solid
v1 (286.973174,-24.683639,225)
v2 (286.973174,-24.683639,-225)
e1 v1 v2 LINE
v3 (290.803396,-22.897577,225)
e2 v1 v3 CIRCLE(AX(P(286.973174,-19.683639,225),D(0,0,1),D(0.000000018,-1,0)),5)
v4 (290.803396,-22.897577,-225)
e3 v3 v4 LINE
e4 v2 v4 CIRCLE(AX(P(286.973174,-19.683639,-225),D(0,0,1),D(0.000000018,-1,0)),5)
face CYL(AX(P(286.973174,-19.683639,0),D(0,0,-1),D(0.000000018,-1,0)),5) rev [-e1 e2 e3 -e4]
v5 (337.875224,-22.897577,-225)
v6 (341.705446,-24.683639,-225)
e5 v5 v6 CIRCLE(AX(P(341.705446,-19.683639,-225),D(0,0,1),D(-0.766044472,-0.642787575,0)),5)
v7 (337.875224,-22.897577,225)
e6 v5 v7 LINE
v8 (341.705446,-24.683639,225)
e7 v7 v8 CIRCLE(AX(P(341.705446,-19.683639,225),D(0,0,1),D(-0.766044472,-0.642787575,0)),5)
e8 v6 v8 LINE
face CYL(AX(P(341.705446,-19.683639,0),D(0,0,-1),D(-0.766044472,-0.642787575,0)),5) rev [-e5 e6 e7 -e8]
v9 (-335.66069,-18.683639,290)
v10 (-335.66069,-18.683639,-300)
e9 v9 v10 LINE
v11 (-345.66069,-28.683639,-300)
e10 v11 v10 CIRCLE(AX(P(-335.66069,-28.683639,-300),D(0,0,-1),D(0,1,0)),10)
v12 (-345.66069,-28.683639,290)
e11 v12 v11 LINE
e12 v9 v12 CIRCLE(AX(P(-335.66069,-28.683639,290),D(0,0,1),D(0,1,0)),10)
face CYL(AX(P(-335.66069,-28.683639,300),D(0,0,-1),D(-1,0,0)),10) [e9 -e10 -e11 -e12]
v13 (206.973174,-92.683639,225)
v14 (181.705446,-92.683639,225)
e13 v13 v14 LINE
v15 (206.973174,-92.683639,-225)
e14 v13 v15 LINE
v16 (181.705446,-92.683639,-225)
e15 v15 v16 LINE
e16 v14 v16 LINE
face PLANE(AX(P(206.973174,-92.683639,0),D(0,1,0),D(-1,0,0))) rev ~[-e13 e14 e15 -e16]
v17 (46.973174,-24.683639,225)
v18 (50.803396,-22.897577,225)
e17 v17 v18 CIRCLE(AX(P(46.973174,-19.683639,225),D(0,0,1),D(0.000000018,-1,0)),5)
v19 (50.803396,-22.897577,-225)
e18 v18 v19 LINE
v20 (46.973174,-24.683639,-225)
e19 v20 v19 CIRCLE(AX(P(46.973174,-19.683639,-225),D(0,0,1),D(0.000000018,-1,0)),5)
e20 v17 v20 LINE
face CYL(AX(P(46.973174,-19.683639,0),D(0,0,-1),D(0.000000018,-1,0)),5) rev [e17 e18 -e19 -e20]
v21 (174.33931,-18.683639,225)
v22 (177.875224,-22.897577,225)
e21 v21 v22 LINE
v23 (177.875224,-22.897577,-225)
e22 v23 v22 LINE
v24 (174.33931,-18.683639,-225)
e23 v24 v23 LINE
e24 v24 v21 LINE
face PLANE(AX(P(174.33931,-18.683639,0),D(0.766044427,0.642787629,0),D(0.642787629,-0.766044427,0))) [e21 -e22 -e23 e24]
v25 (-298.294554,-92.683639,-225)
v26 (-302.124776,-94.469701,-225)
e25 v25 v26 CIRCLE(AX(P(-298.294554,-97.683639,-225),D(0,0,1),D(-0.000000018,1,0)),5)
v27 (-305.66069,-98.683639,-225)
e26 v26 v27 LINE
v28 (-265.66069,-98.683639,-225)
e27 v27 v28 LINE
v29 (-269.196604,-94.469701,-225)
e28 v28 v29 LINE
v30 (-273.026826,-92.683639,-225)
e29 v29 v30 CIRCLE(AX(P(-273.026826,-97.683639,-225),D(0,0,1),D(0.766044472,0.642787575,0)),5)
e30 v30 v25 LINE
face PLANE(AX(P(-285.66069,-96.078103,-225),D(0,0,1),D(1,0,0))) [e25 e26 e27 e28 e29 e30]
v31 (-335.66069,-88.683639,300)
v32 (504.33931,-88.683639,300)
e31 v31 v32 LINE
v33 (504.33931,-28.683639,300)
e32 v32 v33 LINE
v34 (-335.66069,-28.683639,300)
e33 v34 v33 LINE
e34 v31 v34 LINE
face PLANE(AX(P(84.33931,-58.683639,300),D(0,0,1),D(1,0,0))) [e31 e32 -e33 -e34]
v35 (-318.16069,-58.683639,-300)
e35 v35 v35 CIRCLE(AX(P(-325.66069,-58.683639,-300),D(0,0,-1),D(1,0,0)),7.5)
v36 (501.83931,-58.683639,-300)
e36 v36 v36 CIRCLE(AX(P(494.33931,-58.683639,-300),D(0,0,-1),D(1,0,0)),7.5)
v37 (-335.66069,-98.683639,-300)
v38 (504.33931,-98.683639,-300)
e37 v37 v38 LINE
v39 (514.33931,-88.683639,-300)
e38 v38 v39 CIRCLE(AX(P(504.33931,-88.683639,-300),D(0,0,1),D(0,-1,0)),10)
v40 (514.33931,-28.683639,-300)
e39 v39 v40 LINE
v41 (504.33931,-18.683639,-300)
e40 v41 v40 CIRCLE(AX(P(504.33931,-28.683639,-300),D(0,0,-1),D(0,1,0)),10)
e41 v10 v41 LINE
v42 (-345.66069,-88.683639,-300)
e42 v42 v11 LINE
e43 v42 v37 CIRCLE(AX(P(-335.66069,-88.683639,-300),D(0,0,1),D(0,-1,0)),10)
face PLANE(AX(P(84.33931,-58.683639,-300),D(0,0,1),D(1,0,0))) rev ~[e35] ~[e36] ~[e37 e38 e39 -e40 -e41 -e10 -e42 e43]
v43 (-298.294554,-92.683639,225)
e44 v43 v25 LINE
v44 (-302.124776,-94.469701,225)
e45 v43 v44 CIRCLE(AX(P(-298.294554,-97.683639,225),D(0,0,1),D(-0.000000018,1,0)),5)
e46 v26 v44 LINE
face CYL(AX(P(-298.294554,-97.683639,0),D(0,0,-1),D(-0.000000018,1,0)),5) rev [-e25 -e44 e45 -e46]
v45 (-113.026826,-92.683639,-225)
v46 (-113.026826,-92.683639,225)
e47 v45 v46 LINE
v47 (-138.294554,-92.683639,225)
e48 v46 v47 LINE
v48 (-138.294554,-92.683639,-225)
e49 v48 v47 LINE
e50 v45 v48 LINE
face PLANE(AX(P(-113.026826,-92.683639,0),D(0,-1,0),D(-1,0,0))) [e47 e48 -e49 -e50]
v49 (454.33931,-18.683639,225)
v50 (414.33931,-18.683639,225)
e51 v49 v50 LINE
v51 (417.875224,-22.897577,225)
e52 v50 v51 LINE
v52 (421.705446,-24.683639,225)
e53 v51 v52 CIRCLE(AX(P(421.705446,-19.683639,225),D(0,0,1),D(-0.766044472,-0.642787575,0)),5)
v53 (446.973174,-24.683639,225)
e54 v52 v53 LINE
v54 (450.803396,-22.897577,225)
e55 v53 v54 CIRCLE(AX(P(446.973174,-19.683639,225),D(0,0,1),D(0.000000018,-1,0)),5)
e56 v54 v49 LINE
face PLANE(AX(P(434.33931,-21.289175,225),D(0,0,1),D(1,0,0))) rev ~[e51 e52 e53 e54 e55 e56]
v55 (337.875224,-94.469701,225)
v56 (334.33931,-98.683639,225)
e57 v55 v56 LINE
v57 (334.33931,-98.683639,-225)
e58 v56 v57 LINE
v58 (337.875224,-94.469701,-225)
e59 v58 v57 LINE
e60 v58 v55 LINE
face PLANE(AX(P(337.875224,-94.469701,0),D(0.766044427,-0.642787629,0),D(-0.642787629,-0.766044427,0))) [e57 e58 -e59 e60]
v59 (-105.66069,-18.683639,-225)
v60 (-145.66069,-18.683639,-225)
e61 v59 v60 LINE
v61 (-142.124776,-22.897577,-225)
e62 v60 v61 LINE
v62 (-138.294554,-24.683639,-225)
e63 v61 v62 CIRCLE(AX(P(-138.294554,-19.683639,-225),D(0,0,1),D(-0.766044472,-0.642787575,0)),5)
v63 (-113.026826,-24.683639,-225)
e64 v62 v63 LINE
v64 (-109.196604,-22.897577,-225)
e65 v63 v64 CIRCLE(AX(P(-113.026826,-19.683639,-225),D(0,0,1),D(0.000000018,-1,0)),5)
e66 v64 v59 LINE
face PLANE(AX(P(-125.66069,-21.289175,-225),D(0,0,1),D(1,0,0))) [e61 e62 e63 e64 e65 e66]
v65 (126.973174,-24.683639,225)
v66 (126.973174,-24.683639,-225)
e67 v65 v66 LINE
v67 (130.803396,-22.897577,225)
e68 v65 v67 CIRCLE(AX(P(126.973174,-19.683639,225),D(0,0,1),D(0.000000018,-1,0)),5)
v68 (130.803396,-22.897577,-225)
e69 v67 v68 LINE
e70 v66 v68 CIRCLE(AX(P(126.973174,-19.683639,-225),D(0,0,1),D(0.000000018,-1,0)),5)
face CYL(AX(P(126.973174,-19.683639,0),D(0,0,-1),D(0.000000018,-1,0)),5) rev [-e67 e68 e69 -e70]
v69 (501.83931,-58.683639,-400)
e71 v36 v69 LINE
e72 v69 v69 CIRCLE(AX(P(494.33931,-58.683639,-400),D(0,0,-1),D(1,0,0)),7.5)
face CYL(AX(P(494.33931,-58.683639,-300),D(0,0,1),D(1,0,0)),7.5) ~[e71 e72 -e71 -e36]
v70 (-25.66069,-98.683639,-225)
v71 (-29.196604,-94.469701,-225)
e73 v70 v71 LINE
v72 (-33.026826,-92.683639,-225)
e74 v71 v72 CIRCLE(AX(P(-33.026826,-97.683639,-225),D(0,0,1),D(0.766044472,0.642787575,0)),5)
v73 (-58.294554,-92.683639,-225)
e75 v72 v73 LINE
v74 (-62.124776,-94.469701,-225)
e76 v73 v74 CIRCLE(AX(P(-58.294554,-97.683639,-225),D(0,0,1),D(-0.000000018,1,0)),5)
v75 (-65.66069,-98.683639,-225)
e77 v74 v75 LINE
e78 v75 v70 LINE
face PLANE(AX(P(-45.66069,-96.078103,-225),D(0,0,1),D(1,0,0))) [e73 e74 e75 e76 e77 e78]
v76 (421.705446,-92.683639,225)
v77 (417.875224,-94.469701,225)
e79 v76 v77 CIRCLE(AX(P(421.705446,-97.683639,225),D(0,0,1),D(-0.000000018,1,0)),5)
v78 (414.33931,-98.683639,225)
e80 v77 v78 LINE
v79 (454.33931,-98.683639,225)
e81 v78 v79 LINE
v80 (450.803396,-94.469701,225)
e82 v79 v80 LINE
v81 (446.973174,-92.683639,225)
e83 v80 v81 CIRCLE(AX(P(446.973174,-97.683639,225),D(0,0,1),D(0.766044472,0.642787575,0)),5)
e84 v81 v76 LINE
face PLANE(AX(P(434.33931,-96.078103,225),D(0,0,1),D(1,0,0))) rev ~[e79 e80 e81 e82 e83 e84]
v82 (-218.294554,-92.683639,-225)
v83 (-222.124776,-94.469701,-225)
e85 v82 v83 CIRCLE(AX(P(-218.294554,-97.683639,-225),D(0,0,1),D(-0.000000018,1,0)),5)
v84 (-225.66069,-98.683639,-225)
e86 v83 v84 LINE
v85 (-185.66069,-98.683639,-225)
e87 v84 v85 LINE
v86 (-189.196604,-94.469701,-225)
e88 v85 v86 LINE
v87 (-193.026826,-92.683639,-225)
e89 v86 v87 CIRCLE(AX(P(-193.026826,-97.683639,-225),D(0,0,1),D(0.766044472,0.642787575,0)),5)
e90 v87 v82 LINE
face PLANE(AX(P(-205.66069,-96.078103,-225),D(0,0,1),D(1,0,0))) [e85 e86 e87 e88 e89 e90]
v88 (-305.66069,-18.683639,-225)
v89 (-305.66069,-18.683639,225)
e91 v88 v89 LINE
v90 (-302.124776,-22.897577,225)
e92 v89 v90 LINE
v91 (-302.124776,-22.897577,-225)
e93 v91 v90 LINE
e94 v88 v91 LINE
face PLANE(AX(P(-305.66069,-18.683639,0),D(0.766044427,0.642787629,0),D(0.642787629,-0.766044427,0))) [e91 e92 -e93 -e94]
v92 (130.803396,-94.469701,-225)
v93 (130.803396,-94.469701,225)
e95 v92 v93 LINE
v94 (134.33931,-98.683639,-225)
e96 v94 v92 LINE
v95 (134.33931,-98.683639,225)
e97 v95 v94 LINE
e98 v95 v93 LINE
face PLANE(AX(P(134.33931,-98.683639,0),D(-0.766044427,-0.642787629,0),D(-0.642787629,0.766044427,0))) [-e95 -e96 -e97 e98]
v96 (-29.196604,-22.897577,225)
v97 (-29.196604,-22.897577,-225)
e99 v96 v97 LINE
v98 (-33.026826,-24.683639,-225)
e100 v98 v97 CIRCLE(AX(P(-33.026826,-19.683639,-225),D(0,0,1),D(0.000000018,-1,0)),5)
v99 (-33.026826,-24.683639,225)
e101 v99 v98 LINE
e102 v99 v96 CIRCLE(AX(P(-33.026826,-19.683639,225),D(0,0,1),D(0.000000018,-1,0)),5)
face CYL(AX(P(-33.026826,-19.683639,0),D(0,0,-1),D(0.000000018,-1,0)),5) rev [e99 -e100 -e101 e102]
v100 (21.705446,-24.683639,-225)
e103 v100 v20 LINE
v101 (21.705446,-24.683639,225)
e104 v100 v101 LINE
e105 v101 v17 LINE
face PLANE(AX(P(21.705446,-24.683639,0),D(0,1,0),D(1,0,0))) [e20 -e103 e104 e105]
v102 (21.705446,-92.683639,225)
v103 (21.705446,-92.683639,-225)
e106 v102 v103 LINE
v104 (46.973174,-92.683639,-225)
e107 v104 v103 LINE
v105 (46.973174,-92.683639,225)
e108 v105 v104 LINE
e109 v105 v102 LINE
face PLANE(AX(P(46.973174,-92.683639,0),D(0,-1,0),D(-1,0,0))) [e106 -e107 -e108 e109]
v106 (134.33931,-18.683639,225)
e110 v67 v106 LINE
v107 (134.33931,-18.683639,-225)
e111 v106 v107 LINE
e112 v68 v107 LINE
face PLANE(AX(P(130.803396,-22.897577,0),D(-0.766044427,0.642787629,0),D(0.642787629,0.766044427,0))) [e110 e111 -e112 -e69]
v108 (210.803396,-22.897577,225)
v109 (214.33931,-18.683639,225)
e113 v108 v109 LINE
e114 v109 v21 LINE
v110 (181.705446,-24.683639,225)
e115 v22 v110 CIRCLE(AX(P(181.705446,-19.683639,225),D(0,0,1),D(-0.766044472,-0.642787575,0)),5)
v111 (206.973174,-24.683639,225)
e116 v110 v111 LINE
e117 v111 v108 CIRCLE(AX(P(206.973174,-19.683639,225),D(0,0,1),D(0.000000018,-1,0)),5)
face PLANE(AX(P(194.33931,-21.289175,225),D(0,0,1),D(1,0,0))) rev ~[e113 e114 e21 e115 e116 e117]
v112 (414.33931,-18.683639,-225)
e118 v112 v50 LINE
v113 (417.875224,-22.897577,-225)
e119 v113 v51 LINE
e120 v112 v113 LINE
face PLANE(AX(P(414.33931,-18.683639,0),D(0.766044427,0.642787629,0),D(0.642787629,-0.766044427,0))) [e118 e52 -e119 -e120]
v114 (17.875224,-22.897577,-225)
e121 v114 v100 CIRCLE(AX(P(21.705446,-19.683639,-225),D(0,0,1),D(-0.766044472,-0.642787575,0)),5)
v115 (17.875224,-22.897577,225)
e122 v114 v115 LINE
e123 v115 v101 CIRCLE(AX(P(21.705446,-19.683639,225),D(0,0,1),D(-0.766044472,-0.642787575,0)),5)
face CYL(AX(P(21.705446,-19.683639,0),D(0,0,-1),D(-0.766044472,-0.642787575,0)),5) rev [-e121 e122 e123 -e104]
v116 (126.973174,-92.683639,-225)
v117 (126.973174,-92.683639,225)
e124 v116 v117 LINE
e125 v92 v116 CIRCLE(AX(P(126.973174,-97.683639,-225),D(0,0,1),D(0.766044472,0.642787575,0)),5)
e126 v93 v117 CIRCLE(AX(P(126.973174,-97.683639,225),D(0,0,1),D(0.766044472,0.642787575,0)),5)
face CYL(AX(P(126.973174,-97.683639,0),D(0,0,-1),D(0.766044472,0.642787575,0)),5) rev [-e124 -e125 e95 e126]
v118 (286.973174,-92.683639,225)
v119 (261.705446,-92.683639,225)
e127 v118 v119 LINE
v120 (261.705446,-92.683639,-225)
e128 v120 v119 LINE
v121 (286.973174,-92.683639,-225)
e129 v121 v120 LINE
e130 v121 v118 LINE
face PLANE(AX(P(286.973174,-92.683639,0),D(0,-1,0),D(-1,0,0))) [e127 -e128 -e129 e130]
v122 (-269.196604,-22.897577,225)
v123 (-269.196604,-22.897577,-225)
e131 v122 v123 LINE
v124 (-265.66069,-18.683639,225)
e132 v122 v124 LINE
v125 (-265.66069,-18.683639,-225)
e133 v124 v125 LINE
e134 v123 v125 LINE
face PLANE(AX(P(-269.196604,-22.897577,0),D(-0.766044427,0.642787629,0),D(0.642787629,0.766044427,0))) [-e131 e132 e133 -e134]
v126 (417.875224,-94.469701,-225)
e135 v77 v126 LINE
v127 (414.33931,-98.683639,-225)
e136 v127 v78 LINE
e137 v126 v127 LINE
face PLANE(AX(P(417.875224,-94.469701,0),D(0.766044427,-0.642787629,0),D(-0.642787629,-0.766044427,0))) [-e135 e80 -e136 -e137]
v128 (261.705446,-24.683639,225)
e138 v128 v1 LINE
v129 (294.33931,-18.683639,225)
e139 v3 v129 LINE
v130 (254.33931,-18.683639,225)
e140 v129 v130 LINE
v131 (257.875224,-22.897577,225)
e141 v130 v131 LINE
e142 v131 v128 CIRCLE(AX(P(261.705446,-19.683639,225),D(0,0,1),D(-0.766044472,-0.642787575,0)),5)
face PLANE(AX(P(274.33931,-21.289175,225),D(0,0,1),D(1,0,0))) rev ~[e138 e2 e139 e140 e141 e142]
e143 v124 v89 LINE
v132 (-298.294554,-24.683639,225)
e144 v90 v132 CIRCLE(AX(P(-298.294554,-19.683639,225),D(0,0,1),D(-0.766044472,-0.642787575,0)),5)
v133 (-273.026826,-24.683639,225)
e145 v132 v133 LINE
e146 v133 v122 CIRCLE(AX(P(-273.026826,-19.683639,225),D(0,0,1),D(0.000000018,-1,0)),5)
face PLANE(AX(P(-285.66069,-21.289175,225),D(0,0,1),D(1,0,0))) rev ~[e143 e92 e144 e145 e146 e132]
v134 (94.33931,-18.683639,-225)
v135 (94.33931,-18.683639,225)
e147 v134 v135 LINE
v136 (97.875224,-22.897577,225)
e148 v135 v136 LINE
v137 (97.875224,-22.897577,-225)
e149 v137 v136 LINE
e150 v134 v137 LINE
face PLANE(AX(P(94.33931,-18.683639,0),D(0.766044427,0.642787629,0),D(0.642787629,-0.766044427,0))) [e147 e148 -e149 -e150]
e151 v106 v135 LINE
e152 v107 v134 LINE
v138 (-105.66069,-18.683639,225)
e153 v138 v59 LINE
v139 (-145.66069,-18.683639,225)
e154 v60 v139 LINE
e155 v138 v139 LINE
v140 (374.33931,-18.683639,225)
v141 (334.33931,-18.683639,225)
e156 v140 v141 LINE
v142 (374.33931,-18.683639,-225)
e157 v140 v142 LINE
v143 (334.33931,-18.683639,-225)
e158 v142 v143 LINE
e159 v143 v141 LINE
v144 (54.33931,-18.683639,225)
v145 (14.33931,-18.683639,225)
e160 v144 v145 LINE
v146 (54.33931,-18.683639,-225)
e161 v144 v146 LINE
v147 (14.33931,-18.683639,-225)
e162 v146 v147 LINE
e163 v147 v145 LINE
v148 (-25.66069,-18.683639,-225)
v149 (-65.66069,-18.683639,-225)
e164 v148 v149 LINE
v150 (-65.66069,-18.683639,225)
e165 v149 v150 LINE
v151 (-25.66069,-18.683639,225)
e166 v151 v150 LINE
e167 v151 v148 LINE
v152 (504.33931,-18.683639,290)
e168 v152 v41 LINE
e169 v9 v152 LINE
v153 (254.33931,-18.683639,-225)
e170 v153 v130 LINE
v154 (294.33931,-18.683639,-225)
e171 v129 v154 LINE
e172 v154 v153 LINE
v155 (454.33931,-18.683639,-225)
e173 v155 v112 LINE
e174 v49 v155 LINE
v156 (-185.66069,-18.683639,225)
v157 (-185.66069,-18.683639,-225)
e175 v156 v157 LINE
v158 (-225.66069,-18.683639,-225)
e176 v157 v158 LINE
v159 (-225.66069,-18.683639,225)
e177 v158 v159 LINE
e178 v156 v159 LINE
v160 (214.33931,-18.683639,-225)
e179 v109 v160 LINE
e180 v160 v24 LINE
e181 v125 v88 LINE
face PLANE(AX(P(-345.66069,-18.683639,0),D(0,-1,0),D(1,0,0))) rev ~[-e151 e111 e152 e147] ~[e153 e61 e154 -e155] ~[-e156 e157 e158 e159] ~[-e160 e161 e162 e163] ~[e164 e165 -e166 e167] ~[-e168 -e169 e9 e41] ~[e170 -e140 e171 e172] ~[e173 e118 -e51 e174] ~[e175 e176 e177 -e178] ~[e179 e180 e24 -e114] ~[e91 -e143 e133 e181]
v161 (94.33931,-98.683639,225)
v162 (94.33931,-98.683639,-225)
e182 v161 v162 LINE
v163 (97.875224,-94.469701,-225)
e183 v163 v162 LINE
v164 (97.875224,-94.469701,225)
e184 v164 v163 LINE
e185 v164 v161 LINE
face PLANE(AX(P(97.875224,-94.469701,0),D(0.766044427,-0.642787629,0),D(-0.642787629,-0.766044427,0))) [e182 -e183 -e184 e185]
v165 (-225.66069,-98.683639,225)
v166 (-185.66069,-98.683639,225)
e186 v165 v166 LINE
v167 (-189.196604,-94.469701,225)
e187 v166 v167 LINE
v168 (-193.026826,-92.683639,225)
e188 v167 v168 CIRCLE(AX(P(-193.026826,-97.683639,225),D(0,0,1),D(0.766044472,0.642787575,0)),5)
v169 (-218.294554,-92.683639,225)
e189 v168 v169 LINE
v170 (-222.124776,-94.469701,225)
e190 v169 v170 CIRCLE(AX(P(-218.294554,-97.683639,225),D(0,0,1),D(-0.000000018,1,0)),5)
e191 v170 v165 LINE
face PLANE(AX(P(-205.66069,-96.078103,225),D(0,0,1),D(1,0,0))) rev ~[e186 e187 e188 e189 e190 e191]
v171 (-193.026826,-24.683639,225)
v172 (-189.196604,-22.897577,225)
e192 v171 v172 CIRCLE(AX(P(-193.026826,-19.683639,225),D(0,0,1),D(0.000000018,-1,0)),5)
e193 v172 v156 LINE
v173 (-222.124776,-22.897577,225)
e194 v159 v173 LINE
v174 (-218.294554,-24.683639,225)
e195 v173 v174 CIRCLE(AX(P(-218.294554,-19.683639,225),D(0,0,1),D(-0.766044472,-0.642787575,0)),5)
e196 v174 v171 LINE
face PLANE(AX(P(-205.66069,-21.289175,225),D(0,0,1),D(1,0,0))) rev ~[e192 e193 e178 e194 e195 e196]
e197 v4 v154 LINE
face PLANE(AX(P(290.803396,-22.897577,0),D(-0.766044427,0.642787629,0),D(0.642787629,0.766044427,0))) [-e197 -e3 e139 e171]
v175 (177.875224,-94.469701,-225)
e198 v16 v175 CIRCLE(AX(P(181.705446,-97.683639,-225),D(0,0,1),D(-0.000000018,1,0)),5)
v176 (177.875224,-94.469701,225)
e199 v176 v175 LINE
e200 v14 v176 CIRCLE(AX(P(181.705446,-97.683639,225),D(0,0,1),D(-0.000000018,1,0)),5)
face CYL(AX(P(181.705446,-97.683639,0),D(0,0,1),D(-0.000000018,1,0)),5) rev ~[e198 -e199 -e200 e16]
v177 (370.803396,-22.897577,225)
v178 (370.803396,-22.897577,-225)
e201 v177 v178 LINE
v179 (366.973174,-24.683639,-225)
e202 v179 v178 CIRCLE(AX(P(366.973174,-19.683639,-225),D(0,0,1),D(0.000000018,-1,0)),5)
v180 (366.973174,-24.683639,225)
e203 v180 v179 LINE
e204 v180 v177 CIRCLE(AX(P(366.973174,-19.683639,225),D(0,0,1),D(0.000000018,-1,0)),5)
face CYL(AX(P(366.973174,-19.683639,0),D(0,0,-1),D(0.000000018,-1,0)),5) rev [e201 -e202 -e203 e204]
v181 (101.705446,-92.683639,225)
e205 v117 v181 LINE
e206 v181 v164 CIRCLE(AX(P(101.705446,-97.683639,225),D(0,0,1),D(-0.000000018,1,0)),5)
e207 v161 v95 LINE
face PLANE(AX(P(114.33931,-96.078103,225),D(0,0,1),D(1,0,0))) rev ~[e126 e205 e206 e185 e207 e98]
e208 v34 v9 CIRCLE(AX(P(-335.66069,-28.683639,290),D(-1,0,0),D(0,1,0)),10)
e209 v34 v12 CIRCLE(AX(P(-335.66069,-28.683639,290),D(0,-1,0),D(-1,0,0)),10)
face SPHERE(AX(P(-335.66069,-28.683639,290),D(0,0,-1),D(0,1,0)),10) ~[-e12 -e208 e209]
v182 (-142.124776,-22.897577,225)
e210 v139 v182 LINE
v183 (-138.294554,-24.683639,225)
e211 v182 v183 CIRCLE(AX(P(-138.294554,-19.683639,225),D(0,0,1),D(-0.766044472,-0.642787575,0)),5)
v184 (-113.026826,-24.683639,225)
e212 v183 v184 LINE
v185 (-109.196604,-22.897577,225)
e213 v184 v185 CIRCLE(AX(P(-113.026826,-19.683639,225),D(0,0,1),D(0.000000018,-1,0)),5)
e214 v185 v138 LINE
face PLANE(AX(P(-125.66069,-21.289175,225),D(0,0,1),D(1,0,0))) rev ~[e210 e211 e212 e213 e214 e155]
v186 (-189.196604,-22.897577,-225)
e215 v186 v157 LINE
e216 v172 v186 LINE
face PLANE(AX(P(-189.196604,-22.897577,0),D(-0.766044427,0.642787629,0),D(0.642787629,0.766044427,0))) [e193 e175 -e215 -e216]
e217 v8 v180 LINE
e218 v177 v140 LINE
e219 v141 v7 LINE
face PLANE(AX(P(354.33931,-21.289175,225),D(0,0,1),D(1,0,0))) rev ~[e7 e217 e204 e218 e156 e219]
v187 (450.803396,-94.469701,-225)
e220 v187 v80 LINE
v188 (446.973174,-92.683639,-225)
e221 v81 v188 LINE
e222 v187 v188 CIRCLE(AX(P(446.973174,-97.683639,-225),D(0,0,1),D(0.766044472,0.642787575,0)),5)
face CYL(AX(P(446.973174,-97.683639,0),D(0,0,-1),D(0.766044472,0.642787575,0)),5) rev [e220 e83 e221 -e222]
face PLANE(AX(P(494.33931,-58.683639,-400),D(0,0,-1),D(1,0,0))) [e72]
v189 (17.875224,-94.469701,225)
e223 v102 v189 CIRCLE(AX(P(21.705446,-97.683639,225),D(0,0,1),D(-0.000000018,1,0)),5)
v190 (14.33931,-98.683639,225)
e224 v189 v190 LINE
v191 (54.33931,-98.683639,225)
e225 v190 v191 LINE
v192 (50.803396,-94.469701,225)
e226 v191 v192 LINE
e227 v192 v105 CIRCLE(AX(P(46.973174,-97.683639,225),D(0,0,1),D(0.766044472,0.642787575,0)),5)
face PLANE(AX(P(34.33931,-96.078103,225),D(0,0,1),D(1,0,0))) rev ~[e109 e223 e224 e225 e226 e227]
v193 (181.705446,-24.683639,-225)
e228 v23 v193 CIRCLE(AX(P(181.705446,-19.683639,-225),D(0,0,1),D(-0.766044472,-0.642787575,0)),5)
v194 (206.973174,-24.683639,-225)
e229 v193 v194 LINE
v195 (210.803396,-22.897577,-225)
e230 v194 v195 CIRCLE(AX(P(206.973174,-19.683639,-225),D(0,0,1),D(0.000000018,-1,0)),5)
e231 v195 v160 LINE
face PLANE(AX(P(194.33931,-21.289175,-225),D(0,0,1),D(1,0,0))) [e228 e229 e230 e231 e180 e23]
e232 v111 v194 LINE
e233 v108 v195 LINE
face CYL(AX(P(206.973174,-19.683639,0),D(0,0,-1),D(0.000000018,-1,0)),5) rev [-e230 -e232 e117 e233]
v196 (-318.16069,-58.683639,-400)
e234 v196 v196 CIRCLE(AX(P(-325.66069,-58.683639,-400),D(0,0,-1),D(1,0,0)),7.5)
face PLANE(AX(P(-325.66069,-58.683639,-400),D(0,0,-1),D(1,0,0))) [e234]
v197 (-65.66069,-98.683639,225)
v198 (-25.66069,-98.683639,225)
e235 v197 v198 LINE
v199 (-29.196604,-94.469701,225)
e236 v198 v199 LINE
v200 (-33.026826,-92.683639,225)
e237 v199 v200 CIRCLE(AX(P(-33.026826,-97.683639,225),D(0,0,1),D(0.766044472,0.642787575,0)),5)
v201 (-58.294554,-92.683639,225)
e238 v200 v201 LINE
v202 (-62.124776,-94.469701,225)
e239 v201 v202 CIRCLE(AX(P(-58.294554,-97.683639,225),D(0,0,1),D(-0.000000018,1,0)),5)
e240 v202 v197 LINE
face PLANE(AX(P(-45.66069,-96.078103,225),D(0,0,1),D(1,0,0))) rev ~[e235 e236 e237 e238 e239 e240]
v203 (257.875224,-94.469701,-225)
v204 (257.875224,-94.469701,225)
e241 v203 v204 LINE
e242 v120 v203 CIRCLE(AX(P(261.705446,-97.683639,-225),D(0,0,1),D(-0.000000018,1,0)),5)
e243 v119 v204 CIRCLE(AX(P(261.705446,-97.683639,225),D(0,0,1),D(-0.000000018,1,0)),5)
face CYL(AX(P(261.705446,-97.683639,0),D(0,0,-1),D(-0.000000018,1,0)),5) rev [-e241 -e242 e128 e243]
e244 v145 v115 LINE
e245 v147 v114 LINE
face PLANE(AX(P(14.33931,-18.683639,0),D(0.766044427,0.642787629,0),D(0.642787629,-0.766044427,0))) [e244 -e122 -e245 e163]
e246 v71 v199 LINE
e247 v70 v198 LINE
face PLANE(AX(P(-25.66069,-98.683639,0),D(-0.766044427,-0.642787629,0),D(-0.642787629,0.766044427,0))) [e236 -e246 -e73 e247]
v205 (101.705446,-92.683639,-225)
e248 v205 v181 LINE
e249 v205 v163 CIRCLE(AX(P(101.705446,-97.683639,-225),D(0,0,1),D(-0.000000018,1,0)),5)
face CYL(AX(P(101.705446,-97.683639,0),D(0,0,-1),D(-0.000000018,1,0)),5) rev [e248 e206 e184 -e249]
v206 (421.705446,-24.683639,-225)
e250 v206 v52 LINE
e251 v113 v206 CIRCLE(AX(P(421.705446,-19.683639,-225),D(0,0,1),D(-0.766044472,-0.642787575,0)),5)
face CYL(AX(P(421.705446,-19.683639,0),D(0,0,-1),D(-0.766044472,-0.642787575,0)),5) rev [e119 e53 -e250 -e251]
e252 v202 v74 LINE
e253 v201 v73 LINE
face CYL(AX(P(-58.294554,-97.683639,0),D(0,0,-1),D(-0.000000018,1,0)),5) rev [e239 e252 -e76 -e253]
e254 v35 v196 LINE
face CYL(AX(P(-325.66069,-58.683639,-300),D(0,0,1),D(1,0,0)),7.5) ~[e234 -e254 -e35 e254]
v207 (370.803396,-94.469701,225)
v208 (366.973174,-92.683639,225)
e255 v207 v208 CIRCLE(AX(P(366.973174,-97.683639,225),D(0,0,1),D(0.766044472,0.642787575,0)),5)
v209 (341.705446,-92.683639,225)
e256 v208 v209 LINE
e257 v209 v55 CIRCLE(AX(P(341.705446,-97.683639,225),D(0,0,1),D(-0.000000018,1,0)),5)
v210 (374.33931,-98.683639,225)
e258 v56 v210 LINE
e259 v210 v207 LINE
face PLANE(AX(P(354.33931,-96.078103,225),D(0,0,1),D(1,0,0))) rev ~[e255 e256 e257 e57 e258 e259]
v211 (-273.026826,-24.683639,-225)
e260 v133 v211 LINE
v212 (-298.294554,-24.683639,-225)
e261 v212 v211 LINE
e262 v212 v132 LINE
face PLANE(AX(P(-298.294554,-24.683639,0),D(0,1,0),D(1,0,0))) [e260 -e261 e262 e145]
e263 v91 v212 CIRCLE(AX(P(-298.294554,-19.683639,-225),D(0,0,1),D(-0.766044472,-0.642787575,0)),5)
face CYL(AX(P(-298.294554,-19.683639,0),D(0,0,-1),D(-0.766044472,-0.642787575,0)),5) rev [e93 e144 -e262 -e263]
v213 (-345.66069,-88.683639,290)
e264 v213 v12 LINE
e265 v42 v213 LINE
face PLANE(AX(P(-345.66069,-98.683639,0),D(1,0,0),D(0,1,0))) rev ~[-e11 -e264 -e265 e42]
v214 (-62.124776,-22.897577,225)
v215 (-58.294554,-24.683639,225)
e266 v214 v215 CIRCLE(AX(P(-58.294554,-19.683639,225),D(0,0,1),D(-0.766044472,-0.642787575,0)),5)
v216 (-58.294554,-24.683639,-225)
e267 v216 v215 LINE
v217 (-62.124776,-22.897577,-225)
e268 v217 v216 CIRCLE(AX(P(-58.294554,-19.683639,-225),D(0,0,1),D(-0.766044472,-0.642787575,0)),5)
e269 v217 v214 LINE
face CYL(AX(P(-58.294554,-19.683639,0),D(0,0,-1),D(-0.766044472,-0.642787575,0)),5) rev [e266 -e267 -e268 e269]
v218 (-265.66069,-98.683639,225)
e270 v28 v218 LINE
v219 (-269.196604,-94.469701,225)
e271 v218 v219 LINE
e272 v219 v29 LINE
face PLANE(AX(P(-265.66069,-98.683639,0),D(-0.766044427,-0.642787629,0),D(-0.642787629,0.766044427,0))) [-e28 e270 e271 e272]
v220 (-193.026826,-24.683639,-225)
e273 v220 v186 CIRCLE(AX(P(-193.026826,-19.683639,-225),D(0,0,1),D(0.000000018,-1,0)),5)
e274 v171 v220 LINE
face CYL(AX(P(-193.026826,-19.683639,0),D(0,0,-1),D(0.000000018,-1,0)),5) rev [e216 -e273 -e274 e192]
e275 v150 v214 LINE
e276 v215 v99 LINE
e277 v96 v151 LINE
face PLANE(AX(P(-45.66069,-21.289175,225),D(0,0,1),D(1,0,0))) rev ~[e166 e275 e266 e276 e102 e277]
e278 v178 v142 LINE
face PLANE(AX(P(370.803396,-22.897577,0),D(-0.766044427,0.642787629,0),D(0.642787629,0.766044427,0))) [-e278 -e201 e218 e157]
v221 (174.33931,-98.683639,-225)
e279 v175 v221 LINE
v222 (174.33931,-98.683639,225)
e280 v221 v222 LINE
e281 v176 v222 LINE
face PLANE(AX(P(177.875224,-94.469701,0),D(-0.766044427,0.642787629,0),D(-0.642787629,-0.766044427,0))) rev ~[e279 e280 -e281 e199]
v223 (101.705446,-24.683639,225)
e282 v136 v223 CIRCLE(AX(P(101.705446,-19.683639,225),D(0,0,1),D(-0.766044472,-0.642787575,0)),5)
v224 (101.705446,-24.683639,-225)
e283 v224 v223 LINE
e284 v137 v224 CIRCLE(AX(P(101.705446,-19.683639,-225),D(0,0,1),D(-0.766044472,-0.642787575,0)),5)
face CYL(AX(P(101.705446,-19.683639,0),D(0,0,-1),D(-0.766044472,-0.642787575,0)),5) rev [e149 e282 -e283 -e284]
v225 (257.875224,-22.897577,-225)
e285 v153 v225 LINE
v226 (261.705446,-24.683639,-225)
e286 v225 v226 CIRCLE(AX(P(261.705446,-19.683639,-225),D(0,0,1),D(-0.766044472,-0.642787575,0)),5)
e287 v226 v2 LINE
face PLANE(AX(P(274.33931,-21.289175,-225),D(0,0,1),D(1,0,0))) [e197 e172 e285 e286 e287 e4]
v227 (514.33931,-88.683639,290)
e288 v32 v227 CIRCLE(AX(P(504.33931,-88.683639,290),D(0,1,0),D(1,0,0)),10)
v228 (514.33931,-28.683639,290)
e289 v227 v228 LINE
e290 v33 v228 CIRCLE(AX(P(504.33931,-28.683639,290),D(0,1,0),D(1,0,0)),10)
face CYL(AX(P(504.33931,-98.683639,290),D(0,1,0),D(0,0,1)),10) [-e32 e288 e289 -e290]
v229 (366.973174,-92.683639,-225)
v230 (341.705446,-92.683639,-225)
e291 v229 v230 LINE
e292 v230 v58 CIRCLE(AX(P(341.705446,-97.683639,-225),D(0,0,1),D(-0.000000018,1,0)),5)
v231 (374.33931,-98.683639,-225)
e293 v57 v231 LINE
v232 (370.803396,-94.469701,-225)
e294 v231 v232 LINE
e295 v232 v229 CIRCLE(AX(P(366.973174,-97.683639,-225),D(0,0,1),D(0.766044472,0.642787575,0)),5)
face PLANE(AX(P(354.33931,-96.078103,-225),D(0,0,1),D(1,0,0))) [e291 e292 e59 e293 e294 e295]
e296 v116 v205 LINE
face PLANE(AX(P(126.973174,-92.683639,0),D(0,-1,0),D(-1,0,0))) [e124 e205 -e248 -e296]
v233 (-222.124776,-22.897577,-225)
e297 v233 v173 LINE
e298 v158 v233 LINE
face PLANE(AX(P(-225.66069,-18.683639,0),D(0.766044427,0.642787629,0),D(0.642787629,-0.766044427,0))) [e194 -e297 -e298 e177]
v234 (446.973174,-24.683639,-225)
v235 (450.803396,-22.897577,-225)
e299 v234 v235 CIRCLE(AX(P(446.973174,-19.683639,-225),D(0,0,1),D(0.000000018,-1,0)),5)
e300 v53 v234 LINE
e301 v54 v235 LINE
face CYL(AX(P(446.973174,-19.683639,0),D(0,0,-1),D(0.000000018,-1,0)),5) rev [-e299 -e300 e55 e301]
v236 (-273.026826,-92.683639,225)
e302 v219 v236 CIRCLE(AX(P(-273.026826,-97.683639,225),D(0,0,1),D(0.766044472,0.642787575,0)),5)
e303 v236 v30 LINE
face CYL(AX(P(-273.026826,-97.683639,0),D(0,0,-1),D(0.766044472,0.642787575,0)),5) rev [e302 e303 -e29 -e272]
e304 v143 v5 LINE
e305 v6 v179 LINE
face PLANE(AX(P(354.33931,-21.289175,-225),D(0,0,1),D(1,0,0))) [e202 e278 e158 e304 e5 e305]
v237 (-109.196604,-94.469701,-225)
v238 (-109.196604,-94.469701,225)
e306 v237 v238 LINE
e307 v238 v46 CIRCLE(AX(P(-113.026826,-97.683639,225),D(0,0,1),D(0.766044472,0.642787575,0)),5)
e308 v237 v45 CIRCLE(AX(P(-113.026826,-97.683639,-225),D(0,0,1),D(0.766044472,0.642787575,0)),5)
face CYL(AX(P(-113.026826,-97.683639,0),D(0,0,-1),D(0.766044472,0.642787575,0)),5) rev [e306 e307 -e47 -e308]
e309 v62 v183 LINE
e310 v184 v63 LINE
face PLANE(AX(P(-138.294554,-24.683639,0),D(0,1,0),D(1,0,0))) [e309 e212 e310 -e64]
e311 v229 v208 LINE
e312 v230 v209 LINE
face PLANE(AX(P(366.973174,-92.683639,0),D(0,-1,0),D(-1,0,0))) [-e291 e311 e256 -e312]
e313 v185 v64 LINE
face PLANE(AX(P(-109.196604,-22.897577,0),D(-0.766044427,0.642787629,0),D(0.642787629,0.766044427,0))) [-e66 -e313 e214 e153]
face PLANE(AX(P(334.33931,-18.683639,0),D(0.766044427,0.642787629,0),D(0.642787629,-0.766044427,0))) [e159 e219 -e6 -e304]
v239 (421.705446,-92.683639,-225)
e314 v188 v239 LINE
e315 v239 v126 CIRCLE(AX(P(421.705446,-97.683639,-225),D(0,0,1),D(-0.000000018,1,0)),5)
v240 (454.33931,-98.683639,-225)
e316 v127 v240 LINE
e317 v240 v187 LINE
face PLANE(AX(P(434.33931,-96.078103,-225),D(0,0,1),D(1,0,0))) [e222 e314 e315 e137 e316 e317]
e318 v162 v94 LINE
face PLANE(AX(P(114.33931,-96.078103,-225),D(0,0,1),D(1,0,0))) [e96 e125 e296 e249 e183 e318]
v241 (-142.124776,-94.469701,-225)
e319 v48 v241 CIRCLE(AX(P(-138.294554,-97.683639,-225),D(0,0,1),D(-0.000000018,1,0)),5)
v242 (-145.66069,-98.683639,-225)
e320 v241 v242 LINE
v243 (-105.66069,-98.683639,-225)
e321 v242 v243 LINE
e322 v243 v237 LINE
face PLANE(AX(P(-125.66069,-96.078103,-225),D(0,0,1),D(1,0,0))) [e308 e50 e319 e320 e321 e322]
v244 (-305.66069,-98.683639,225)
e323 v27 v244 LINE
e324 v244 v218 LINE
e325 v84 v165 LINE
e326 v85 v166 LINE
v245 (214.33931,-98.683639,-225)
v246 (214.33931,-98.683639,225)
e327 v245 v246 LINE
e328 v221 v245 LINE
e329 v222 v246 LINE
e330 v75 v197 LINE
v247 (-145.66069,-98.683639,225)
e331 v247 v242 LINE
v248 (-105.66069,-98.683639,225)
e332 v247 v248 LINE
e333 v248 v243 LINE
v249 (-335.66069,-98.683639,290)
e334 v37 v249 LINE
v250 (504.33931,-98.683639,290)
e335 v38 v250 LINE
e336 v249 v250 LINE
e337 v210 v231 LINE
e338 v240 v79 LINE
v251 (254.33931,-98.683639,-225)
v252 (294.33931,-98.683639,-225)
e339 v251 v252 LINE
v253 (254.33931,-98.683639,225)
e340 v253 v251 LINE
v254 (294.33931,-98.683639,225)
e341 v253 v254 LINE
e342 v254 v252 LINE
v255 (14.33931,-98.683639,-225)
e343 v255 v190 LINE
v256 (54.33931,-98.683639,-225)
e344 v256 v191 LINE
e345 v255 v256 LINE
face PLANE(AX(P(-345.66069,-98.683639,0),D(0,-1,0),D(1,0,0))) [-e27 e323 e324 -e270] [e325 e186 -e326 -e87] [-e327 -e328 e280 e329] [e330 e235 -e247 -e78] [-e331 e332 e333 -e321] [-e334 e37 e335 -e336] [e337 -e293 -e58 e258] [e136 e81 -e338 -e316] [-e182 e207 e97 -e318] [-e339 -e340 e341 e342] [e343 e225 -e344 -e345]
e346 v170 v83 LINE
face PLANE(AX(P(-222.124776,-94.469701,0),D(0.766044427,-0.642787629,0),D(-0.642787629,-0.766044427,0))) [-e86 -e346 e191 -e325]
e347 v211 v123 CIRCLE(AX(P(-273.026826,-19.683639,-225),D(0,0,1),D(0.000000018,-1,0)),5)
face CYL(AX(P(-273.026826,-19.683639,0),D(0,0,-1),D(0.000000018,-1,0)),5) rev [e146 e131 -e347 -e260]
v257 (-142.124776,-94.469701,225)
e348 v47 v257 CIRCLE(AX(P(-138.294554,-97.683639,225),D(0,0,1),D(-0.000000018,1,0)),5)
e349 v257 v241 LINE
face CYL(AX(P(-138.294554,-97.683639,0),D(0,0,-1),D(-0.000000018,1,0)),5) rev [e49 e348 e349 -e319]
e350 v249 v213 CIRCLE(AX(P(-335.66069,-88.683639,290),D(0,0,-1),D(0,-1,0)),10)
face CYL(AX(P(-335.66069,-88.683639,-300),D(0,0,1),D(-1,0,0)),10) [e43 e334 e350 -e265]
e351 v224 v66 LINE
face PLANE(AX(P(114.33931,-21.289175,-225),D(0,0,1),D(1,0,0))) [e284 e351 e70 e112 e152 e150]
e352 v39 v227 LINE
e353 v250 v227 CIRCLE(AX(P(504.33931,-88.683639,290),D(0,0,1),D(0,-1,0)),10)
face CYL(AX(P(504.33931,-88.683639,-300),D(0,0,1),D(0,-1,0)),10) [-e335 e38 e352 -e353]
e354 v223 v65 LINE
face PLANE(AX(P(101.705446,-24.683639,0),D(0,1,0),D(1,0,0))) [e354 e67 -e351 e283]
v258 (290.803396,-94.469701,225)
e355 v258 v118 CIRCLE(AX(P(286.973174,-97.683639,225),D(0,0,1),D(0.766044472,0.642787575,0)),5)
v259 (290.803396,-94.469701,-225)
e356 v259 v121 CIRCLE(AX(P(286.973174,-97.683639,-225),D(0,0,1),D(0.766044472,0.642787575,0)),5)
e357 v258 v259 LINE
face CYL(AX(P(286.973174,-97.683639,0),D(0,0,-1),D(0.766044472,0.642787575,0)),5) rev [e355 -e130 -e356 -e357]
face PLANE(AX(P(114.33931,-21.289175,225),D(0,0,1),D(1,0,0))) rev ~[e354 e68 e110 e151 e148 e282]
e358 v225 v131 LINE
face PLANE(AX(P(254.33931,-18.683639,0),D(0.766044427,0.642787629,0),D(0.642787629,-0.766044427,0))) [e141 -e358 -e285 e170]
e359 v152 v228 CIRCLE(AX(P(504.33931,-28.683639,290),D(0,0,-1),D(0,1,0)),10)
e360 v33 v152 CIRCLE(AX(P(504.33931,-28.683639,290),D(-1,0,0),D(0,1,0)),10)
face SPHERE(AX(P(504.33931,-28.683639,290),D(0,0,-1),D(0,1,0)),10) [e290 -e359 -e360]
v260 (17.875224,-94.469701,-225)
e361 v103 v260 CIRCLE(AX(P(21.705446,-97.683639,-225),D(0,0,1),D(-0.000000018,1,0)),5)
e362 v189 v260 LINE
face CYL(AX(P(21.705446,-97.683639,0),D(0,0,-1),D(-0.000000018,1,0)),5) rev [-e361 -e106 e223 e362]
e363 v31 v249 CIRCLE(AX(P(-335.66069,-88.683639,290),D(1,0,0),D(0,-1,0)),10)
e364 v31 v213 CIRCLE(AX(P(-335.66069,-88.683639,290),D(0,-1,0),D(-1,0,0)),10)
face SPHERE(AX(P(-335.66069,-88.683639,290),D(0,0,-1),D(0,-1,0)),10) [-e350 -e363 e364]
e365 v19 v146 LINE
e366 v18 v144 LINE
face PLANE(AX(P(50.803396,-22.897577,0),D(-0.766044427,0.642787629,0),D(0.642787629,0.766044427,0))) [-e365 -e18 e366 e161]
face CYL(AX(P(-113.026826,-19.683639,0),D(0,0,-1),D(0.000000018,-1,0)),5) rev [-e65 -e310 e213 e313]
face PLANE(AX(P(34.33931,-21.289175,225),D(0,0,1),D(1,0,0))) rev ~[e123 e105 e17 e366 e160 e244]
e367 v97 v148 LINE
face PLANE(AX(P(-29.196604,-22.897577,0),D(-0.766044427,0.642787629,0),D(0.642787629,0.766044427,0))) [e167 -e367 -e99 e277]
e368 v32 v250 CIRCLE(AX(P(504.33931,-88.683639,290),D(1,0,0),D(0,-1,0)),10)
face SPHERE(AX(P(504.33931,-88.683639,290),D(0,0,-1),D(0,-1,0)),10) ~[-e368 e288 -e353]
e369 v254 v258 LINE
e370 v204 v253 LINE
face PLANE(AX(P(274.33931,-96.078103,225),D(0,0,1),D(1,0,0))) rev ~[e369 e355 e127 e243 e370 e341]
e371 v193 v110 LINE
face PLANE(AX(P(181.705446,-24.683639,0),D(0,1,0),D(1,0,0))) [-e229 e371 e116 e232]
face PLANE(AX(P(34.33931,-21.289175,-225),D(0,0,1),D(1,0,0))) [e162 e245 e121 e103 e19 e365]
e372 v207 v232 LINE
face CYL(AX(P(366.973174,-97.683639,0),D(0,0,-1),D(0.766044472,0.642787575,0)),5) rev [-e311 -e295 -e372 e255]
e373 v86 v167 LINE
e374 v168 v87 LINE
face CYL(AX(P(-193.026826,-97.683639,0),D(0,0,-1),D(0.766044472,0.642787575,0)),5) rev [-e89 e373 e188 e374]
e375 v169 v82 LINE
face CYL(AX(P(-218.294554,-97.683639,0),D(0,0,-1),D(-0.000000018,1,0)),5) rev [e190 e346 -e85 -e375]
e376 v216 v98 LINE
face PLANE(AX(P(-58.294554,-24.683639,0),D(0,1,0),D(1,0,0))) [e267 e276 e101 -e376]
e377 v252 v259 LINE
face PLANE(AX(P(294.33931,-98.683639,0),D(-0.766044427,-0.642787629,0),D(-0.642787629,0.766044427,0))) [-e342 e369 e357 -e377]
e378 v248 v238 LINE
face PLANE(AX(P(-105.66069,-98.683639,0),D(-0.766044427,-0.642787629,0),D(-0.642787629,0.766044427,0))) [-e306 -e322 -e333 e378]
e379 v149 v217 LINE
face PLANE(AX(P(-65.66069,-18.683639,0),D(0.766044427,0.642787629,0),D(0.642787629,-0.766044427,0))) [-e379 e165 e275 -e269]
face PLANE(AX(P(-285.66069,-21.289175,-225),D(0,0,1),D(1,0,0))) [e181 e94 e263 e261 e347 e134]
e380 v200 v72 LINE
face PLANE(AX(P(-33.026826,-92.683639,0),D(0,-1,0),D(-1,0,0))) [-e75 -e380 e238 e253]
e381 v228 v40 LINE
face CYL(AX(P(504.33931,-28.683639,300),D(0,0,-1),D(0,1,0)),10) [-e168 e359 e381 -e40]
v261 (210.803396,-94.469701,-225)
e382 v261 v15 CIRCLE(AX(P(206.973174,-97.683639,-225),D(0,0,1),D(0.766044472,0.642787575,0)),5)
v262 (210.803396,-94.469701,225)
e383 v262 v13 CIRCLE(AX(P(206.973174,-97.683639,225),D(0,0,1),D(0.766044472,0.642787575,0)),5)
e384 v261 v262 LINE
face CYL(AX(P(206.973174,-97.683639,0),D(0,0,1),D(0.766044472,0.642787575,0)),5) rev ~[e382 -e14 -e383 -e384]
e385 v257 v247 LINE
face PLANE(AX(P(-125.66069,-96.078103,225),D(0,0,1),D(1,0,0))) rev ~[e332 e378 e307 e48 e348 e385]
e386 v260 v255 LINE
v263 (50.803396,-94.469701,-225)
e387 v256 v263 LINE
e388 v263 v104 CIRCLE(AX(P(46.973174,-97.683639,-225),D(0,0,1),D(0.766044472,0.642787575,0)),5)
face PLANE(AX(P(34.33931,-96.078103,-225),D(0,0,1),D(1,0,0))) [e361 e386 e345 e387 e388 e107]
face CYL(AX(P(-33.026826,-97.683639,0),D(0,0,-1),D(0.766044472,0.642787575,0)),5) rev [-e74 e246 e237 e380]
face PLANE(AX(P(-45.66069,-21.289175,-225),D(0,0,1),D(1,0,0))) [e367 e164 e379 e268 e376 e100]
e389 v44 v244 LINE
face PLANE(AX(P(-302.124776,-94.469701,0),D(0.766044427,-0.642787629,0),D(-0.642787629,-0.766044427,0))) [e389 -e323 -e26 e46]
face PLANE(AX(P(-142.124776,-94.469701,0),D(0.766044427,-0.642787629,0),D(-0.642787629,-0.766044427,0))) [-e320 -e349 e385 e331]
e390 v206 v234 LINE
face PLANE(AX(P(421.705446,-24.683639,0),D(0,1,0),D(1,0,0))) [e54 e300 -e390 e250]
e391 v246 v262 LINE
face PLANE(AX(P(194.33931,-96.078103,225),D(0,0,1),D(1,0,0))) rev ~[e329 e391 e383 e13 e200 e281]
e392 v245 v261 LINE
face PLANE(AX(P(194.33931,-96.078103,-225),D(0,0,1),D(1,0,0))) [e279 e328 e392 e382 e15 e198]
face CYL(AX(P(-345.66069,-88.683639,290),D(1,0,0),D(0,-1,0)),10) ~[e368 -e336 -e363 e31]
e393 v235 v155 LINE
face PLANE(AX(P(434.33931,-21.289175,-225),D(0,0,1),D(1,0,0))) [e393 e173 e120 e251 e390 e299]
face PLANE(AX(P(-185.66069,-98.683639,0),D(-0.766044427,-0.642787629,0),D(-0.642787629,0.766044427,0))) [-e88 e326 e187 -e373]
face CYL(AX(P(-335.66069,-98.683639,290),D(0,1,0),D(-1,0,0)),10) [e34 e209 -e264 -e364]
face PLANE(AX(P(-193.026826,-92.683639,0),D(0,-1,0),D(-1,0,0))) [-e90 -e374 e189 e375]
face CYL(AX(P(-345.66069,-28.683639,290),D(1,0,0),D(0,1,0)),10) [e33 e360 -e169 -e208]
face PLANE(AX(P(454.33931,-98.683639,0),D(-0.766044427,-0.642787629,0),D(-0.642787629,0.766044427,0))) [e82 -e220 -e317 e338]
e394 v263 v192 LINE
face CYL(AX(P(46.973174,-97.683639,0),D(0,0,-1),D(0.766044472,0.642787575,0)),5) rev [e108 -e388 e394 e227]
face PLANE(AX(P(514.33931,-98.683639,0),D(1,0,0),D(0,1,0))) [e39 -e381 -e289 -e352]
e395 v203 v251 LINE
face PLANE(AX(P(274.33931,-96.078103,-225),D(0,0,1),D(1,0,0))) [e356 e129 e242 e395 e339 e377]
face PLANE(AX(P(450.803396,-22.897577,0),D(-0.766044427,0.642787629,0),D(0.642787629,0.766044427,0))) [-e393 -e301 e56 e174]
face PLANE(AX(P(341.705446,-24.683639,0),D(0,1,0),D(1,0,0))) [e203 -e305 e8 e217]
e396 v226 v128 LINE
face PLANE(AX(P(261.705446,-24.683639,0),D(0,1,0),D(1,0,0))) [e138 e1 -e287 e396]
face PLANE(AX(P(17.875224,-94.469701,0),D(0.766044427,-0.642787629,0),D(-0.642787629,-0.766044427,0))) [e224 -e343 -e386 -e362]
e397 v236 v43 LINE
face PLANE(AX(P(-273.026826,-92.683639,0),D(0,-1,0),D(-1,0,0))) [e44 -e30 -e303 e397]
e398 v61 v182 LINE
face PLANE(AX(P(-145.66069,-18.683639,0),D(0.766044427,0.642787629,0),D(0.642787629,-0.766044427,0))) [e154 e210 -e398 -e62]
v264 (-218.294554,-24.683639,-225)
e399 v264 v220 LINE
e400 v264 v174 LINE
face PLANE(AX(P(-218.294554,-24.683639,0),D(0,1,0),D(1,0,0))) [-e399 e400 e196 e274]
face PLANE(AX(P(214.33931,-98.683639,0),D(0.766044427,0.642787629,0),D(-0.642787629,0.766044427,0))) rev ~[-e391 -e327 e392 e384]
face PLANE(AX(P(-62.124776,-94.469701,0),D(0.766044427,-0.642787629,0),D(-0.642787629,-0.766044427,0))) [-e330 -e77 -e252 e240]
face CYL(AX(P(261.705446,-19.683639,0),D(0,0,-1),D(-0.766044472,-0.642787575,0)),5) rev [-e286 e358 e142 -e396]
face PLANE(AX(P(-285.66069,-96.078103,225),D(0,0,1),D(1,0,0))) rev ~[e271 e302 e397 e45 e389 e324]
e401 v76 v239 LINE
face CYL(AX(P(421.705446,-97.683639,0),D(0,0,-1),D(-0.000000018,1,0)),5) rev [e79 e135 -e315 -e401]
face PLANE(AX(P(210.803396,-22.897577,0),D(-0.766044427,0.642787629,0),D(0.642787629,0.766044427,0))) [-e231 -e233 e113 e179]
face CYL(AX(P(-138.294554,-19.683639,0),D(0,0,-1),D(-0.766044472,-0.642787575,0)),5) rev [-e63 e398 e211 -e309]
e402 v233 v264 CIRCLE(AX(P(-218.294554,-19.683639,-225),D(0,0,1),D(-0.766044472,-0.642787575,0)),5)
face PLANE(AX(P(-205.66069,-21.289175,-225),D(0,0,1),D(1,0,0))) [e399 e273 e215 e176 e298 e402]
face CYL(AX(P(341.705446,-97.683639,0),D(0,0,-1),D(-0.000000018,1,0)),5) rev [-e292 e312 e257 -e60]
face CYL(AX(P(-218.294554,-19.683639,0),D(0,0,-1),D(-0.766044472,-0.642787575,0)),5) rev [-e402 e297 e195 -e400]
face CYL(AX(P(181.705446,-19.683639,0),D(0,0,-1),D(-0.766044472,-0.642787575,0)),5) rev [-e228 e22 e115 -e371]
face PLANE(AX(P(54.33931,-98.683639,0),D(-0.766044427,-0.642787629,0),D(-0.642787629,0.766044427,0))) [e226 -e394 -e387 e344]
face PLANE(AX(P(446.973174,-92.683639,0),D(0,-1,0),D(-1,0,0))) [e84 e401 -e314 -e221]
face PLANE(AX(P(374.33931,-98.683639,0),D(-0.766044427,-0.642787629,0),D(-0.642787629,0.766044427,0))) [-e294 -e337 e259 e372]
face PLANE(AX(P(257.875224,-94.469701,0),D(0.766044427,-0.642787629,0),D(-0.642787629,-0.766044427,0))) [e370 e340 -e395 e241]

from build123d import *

# Parameters (mm, degrees)
F0_W     = 860
F0_H     = 80
F1_DEPTH = 300
F2_R     = 7.5
F3_DEPTH = 100
F5_DEPTH = 225
F6_R     = 10


with BuildPart() as f1:
    # F0 (on Top) → F1 (new body, symmetric)
    with BuildSketch(Plane.XY):
        with Locations((84.33931, -58.683639)):
            Rectangle(F0_W, F0_H)
    extrude(amount=F1_DEPTH, both=True)

    # F2 (on face) → F3 (join)
    with BuildSketch(Plane(origin=(0, 0, -300), x_dir=(1, 0, 0), z_dir=(0, 0, -1))):
        with Locations((494.33931, 58.683639)):
            Circle(F2_R)
        with Locations((-325.66069, 58.683639)):
            Circle(F2_R)
    extrude(amount=F3_DEPTH)

    # F4 (on Top) → F5 (cut, symmetric)
    with BuildSketch(Plane.XY):
        with BuildLine():
            Line((-265.66069, -18.683639), (-305.66069, -18.683639))
            Line((-305.66069, -18.683639), (-302.124776, -22.897577))
            ThreePointArc((-302.124776, -22.897577), (-300.407645, -24.215178), (-298.294554, -24.683639))
            Line((-298.294554, -24.683639), (-273.026826, -24.683639))
            ThreePointArc((-273.026826, -24.683639), (-270.913735, -24.215178), (-269.196604, -22.897577))
            Line((-269.196604, -22.897577), (-265.66069, -18.683639))
        make_face()
        with BuildLine():
            Line((-185.66069, -18.683639), (-225.66069, -18.683639))
            Line((-225.66069, -18.683639), (-222.124776, -22.897577))
            ThreePointArc((-222.124776, -22.897577), (-220.407645, -24.215178), (-218.294554, -24.683639))
            Line((-218.294554, -24.683639), (-193.026826, -24.683639))
            ThreePointArc((-193.026826, -24.683639), (-190.913735, -24.215178), (-189.196604, -22.897577))
            Line((-189.196604, -22.897577), (-185.66069, -18.683639))
        make_face()
        with BuildLine():
            Line((-105.66069, -18.683639), (-145.66069, -18.683639))
            Line((-145.66069, -18.683639), (-142.124776, -22.897577))
            ThreePointArc((-142.124776, -22.897577), (-140.407645, -24.215178), (-138.294554, -24.683639))
            Line((-138.294554, -24.683639), (-113.026826, -24.683639))
            ThreePointArc((-113.026826, -24.683639), (-110.913735, -24.215178), (-109.196604, -22.897577))
            Line((-109.196604, -22.897577), (-105.66069, -18.683639))
        make_face()
        with BuildLine():
            Line((-25.66069, -18.683639), (-65.66069, -18.683639))
            Line((-65.66069, -18.683639), (-62.124776, -22.897577))
            ThreePointArc((-62.124776, -22.897577), (-60.407645, -24.215178), (-58.294554, -24.683639))
            Line((-58.294554, -24.683639), (-33.026826, -24.683639))
            ThreePointArc((-33.026826, -24.683639), (-30.913735, -24.215178), (-29.196604, -22.897577))
            Line((-29.196604, -22.897577), (-25.66069, -18.683639))
        make_face()
        with BuildLine():
            Line((54.33931, -18.683639), (14.33931, -18.683639))
            Line((14.33931, -18.683639), (17.875224, -22.897577))
            ThreePointArc((17.875224, -22.897577), (19.592355, -24.215178), (21.705446, -24.683639))
            Line((21.705446, -24.683639), (46.973174, -24.683639))
            ThreePointArc((46.973174, -24.683639), (49.086265, -24.215178), (50.803396, -22.897577))
            Line((50.803396, -22.897577), (54.33931, -18.683639))
        make_face()
        with BuildLine():
            Line((134.33931, -18.683639), (94.33931, -18.683639))
            Line((94.33931, -18.683639), (97.875224, -22.897577))
            ThreePointArc((97.875224, -22.897577), (99.592355, -24.215178), (101.705446, -24.683639))
            Line((101.705446, -24.683639), (126.973174, -24.683639))
            ThreePointArc((126.973174, -24.683639), (129.086265, -24.215178), (130.803396, -22.897577))
            Line((130.803396, -22.897577), (134.33931, -18.683639))
        make_face()
        with BuildLine():
            Line((214.33931, -18.683639), (174.33931, -18.683639))
            Line((174.33931, -18.683639), (177.875224, -22.897577))
            ThreePointArc((177.875224, -22.897577), (179.592355, -24.215178), (181.705446, -24.683639))
            Line((181.705446, -24.683639), (206.973174, -24.683639))
            ThreePointArc((206.973174, -24.683639), (209.086265, -24.215178), (210.803396, -22.897577))
            Line((210.803396, -22.897577), (214.33931, -18.683639))
        make_face()
        with BuildLine():
            Line((294.33931, -18.683639), (254.33931, -18.683639))
            Line((254.33931, -18.683639), (257.875224, -22.897577))
            ThreePointArc((257.875224, -22.897577), (259.592355, -24.215178), (261.705446, -24.683639))
            Line((261.705446, -24.683639), (286.973174, -24.683639))
            ThreePointArc((286.973174, -24.683639), (289.086265, -24.215178), (290.803396, -22.897577))
            Line((290.803396, -22.897577), (294.33931, -18.683639))
        make_face()
        with BuildLine():
            Line((374.33931, -18.683639), (334.33931, -18.683639))
            Line((334.33931, -18.683639), (337.875224, -22.897577))
            ThreePointArc((337.875224, -22.897577), (339.592355, -24.215178), (341.705446, -24.683639))
            Line((341.705446, -24.683639), (366.973174, -24.683639))
            ThreePointArc((366.973174, -24.683639), (369.086265, -24.215178), (370.803396, -22.897577))
            Line((370.803396, -22.897577), (374.33931, -18.683639))
        make_face()
        with BuildLine():
            Line((454.33931, -18.683639), (414.33931, -18.683639))
            Line((414.33931, -18.683639), (417.875224, -22.897577))
            ThreePointArc((417.875224, -22.897577), (419.592355, -24.215178), (421.705446, -24.683639))
            Line((421.705446, -24.683639), (446.973174, -24.683639))
            ThreePointArc((446.973174, -24.683639), (449.086265, -24.215178), (450.803396, -22.897577))
            Line((450.803396, -22.897577), (454.33931, -18.683639))
        make_face()
        with BuildLine():
            ThreePointArc((-298.294554, -92.683639), (-300.407645, -93.1521), (-302.124776, -94.469701))
            Line((-302.124776, -94.469701), (-305.66069, -98.683639))
            Line((-305.66069, -98.683639), (-265.66069, -98.683639))
            Line((-265.66069, -98.683639), (-269.196604, -94.469701))
            ThreePointArc((-269.196604, -94.469701), (-270.913735, -93.1521), (-273.026826, -92.683639))
            Line((-273.026826, -92.683639), (-298.294554, -92.683639))
        make_face()
        with BuildLine():
            Line((-222.124776, -94.469701), (-225.66069, -98.683639))
            Line((-225.66069, -98.683639), (-185.66069, -98.683639))
            Line((-185.66069, -98.683639), (-189.196604, -94.469701))
            ThreePointArc((-189.196604, -94.469701), (-190.913735, -93.1521), (-193.026826, -92.683639))
            Line((-193.026826, -92.683639), (-218.294554, -92.683639))
            ThreePointArc((-218.294554, -92.683639), (-220.407645, -93.1521), (-222.124776, -94.469701))
        make_face()
        with BuildLine():
            ThreePointArc((290.803396, -94.469701), (289.086265, -93.1521), (286.973174, -92.683639))
            Line((286.973174, -92.683639), (261.705446, -92.683639))
            ThreePointArc((261.705446, -92.683639), (259.592355, -93.1521), (257.875224, -94.469701))
            Line((257.875224, -94.469701), (254.33931, -98.683639))
            Line((254.33931, -98.683639), (294.33931, -98.683639))
            Line((294.33931, -98.683639), (290.803396, -94.469701))
        make_face()
        with BuildLine():
            Line((-62.124776, -94.469701), (-65.66069, -98.683639))
            Line((-65.66069, -98.683639), (-25.66069, -98.683639))
            Line((-25.66069, -98.683639), (-29.196604, -94.469701))
            ThreePointArc((-29.196604, -94.469701), (-30.913735, -93.1521), (-33.026826, -92.683639))
            Line((-33.026826, -92.683639), (-58.294554, -92.683639))
            ThreePointArc((-58.294554, -92.683639), (-60.407645, -93.1521), (-62.124776, -94.469701))
        make_face()
        with BuildLine():
            Line((-105.66069, -98.683639), (-109.196604, -94.469701))
            ThreePointArc((-109.196604, -94.469701), (-110.913735, -93.1521), (-113.026826, -92.683639))
            Line((-113.026826, -92.683639), (-138.294554, -92.683639))
            ThreePointArc((-138.294554, -92.683639), (-140.407645, -93.1521), (-142.124776, -94.469701))
            Line((-142.124776, -94.469701), (-145.66069, -98.683639))
            Line((-145.66069, -98.683639), (-105.66069, -98.683639))
        make_face()
        with BuildLine():
            Line((417.875224, -94.469701), (414.33931, -98.683639))
            Line((414.33931, -98.683639), (454.33931, -98.683639))
            Line((454.33931, -98.683639), (450.803396, -94.469701))
            ThreePointArc((450.803396, -94.469701), (449.086265, -93.1521), (446.973174, -92.683639))
            Line((446.973174, -92.683639), (421.705446, -92.683639))
            ThreePointArc((421.705446, -92.683639), (419.592355, -93.1521), (417.875224, -94.469701))
        make_face()
        with BuildLine():
            Line((17.875224, -94.469701), (14.33931, -98.683639))
            Line((14.33931, -98.683639), (54.33931, -98.683639))
            Line((54.33931, -98.683639), (50.803396, -94.469701))
            ThreePointArc((50.803396, -94.469701), (49.086265, -93.1521), (46.973174, -92.683639))
            Line((46.973174, -92.683639), (21.705446, -92.683639))
            ThreePointArc((21.705446, -92.683639), (19.592355, -93.1521), (17.875224, -94.469701))
        make_face()
        with BuildLine():
            Line((134.33931, -98.683639), (130.803396, -94.469701))
            ThreePointArc((130.803396, -94.469701), (129.086265, -93.1521), (126.973174, -92.683639))
            Line((126.973174, -92.683639), (101.705446, -92.683639))
            ThreePointArc((101.705446, -92.683639), (99.592355, -93.1521), (97.875224, -94.469701))
            Line((97.875224, -94.469701), (94.33931, -98.683639))
            Line((94.33931, -98.683639), (134.33931, -98.683639))
        make_face()
        with BuildLine():
            ThreePointArc((370.803396, -94.469701), (369.086265, -93.1521), (366.973174, -92.683639))
            Line((366.973174, -92.683639), (341.705446, -92.683639))
            ThreePointArc((341.705446, -92.683639), (339.592355, -93.1521), (337.875224, -94.469701))
            Line((337.875224, -94.469701), (334.33931, -98.683639))
            Line((334.33931, -98.683639), (374.33931, -98.683639))
            Line((374.33931, -98.683639), (370.803396, -94.469701))
        make_face()
        with BuildLine():
            Line((177.875224, -94.469701), (174.33931, -98.683639))
            Line((174.33931, -98.683639), (214.33931, -98.683639))
            Line((214.33931, -98.683639), (210.803396, -94.469701))
            ThreePointArc((210.803396, -94.469701), (209.086265, -93.1521), (206.973174, -92.683639))
            Line((206.973174, -92.683639), (181.705446, -92.683639))
            ThreePointArc((181.705446, -92.683639), (179.592355, -93.1521), (177.875224, -94.469701))
        make_face()
    extrude(amount=F5_DEPTH, both=True, mode=Mode.SUBTRACT)

    # F6
    f6_edges = [f1.edges().sort_by_distance(p)[0] for p in [
        (-345.66069, -98.683639, 0),
        (-345.66069, -18.683639, 0),
        (514.33931, -98.683639, 0),
        (514.33931, -18.683639, 0),
        (84.33931, -98.683639, 300),
        (84.33931, -18.683639, 300),
        (514.33931, -58.683639, 300),
        (-345.66069, -58.683639, 300),
    ]]
    fillet(f6_edges, radius=F6_R)


solid = f1.part
